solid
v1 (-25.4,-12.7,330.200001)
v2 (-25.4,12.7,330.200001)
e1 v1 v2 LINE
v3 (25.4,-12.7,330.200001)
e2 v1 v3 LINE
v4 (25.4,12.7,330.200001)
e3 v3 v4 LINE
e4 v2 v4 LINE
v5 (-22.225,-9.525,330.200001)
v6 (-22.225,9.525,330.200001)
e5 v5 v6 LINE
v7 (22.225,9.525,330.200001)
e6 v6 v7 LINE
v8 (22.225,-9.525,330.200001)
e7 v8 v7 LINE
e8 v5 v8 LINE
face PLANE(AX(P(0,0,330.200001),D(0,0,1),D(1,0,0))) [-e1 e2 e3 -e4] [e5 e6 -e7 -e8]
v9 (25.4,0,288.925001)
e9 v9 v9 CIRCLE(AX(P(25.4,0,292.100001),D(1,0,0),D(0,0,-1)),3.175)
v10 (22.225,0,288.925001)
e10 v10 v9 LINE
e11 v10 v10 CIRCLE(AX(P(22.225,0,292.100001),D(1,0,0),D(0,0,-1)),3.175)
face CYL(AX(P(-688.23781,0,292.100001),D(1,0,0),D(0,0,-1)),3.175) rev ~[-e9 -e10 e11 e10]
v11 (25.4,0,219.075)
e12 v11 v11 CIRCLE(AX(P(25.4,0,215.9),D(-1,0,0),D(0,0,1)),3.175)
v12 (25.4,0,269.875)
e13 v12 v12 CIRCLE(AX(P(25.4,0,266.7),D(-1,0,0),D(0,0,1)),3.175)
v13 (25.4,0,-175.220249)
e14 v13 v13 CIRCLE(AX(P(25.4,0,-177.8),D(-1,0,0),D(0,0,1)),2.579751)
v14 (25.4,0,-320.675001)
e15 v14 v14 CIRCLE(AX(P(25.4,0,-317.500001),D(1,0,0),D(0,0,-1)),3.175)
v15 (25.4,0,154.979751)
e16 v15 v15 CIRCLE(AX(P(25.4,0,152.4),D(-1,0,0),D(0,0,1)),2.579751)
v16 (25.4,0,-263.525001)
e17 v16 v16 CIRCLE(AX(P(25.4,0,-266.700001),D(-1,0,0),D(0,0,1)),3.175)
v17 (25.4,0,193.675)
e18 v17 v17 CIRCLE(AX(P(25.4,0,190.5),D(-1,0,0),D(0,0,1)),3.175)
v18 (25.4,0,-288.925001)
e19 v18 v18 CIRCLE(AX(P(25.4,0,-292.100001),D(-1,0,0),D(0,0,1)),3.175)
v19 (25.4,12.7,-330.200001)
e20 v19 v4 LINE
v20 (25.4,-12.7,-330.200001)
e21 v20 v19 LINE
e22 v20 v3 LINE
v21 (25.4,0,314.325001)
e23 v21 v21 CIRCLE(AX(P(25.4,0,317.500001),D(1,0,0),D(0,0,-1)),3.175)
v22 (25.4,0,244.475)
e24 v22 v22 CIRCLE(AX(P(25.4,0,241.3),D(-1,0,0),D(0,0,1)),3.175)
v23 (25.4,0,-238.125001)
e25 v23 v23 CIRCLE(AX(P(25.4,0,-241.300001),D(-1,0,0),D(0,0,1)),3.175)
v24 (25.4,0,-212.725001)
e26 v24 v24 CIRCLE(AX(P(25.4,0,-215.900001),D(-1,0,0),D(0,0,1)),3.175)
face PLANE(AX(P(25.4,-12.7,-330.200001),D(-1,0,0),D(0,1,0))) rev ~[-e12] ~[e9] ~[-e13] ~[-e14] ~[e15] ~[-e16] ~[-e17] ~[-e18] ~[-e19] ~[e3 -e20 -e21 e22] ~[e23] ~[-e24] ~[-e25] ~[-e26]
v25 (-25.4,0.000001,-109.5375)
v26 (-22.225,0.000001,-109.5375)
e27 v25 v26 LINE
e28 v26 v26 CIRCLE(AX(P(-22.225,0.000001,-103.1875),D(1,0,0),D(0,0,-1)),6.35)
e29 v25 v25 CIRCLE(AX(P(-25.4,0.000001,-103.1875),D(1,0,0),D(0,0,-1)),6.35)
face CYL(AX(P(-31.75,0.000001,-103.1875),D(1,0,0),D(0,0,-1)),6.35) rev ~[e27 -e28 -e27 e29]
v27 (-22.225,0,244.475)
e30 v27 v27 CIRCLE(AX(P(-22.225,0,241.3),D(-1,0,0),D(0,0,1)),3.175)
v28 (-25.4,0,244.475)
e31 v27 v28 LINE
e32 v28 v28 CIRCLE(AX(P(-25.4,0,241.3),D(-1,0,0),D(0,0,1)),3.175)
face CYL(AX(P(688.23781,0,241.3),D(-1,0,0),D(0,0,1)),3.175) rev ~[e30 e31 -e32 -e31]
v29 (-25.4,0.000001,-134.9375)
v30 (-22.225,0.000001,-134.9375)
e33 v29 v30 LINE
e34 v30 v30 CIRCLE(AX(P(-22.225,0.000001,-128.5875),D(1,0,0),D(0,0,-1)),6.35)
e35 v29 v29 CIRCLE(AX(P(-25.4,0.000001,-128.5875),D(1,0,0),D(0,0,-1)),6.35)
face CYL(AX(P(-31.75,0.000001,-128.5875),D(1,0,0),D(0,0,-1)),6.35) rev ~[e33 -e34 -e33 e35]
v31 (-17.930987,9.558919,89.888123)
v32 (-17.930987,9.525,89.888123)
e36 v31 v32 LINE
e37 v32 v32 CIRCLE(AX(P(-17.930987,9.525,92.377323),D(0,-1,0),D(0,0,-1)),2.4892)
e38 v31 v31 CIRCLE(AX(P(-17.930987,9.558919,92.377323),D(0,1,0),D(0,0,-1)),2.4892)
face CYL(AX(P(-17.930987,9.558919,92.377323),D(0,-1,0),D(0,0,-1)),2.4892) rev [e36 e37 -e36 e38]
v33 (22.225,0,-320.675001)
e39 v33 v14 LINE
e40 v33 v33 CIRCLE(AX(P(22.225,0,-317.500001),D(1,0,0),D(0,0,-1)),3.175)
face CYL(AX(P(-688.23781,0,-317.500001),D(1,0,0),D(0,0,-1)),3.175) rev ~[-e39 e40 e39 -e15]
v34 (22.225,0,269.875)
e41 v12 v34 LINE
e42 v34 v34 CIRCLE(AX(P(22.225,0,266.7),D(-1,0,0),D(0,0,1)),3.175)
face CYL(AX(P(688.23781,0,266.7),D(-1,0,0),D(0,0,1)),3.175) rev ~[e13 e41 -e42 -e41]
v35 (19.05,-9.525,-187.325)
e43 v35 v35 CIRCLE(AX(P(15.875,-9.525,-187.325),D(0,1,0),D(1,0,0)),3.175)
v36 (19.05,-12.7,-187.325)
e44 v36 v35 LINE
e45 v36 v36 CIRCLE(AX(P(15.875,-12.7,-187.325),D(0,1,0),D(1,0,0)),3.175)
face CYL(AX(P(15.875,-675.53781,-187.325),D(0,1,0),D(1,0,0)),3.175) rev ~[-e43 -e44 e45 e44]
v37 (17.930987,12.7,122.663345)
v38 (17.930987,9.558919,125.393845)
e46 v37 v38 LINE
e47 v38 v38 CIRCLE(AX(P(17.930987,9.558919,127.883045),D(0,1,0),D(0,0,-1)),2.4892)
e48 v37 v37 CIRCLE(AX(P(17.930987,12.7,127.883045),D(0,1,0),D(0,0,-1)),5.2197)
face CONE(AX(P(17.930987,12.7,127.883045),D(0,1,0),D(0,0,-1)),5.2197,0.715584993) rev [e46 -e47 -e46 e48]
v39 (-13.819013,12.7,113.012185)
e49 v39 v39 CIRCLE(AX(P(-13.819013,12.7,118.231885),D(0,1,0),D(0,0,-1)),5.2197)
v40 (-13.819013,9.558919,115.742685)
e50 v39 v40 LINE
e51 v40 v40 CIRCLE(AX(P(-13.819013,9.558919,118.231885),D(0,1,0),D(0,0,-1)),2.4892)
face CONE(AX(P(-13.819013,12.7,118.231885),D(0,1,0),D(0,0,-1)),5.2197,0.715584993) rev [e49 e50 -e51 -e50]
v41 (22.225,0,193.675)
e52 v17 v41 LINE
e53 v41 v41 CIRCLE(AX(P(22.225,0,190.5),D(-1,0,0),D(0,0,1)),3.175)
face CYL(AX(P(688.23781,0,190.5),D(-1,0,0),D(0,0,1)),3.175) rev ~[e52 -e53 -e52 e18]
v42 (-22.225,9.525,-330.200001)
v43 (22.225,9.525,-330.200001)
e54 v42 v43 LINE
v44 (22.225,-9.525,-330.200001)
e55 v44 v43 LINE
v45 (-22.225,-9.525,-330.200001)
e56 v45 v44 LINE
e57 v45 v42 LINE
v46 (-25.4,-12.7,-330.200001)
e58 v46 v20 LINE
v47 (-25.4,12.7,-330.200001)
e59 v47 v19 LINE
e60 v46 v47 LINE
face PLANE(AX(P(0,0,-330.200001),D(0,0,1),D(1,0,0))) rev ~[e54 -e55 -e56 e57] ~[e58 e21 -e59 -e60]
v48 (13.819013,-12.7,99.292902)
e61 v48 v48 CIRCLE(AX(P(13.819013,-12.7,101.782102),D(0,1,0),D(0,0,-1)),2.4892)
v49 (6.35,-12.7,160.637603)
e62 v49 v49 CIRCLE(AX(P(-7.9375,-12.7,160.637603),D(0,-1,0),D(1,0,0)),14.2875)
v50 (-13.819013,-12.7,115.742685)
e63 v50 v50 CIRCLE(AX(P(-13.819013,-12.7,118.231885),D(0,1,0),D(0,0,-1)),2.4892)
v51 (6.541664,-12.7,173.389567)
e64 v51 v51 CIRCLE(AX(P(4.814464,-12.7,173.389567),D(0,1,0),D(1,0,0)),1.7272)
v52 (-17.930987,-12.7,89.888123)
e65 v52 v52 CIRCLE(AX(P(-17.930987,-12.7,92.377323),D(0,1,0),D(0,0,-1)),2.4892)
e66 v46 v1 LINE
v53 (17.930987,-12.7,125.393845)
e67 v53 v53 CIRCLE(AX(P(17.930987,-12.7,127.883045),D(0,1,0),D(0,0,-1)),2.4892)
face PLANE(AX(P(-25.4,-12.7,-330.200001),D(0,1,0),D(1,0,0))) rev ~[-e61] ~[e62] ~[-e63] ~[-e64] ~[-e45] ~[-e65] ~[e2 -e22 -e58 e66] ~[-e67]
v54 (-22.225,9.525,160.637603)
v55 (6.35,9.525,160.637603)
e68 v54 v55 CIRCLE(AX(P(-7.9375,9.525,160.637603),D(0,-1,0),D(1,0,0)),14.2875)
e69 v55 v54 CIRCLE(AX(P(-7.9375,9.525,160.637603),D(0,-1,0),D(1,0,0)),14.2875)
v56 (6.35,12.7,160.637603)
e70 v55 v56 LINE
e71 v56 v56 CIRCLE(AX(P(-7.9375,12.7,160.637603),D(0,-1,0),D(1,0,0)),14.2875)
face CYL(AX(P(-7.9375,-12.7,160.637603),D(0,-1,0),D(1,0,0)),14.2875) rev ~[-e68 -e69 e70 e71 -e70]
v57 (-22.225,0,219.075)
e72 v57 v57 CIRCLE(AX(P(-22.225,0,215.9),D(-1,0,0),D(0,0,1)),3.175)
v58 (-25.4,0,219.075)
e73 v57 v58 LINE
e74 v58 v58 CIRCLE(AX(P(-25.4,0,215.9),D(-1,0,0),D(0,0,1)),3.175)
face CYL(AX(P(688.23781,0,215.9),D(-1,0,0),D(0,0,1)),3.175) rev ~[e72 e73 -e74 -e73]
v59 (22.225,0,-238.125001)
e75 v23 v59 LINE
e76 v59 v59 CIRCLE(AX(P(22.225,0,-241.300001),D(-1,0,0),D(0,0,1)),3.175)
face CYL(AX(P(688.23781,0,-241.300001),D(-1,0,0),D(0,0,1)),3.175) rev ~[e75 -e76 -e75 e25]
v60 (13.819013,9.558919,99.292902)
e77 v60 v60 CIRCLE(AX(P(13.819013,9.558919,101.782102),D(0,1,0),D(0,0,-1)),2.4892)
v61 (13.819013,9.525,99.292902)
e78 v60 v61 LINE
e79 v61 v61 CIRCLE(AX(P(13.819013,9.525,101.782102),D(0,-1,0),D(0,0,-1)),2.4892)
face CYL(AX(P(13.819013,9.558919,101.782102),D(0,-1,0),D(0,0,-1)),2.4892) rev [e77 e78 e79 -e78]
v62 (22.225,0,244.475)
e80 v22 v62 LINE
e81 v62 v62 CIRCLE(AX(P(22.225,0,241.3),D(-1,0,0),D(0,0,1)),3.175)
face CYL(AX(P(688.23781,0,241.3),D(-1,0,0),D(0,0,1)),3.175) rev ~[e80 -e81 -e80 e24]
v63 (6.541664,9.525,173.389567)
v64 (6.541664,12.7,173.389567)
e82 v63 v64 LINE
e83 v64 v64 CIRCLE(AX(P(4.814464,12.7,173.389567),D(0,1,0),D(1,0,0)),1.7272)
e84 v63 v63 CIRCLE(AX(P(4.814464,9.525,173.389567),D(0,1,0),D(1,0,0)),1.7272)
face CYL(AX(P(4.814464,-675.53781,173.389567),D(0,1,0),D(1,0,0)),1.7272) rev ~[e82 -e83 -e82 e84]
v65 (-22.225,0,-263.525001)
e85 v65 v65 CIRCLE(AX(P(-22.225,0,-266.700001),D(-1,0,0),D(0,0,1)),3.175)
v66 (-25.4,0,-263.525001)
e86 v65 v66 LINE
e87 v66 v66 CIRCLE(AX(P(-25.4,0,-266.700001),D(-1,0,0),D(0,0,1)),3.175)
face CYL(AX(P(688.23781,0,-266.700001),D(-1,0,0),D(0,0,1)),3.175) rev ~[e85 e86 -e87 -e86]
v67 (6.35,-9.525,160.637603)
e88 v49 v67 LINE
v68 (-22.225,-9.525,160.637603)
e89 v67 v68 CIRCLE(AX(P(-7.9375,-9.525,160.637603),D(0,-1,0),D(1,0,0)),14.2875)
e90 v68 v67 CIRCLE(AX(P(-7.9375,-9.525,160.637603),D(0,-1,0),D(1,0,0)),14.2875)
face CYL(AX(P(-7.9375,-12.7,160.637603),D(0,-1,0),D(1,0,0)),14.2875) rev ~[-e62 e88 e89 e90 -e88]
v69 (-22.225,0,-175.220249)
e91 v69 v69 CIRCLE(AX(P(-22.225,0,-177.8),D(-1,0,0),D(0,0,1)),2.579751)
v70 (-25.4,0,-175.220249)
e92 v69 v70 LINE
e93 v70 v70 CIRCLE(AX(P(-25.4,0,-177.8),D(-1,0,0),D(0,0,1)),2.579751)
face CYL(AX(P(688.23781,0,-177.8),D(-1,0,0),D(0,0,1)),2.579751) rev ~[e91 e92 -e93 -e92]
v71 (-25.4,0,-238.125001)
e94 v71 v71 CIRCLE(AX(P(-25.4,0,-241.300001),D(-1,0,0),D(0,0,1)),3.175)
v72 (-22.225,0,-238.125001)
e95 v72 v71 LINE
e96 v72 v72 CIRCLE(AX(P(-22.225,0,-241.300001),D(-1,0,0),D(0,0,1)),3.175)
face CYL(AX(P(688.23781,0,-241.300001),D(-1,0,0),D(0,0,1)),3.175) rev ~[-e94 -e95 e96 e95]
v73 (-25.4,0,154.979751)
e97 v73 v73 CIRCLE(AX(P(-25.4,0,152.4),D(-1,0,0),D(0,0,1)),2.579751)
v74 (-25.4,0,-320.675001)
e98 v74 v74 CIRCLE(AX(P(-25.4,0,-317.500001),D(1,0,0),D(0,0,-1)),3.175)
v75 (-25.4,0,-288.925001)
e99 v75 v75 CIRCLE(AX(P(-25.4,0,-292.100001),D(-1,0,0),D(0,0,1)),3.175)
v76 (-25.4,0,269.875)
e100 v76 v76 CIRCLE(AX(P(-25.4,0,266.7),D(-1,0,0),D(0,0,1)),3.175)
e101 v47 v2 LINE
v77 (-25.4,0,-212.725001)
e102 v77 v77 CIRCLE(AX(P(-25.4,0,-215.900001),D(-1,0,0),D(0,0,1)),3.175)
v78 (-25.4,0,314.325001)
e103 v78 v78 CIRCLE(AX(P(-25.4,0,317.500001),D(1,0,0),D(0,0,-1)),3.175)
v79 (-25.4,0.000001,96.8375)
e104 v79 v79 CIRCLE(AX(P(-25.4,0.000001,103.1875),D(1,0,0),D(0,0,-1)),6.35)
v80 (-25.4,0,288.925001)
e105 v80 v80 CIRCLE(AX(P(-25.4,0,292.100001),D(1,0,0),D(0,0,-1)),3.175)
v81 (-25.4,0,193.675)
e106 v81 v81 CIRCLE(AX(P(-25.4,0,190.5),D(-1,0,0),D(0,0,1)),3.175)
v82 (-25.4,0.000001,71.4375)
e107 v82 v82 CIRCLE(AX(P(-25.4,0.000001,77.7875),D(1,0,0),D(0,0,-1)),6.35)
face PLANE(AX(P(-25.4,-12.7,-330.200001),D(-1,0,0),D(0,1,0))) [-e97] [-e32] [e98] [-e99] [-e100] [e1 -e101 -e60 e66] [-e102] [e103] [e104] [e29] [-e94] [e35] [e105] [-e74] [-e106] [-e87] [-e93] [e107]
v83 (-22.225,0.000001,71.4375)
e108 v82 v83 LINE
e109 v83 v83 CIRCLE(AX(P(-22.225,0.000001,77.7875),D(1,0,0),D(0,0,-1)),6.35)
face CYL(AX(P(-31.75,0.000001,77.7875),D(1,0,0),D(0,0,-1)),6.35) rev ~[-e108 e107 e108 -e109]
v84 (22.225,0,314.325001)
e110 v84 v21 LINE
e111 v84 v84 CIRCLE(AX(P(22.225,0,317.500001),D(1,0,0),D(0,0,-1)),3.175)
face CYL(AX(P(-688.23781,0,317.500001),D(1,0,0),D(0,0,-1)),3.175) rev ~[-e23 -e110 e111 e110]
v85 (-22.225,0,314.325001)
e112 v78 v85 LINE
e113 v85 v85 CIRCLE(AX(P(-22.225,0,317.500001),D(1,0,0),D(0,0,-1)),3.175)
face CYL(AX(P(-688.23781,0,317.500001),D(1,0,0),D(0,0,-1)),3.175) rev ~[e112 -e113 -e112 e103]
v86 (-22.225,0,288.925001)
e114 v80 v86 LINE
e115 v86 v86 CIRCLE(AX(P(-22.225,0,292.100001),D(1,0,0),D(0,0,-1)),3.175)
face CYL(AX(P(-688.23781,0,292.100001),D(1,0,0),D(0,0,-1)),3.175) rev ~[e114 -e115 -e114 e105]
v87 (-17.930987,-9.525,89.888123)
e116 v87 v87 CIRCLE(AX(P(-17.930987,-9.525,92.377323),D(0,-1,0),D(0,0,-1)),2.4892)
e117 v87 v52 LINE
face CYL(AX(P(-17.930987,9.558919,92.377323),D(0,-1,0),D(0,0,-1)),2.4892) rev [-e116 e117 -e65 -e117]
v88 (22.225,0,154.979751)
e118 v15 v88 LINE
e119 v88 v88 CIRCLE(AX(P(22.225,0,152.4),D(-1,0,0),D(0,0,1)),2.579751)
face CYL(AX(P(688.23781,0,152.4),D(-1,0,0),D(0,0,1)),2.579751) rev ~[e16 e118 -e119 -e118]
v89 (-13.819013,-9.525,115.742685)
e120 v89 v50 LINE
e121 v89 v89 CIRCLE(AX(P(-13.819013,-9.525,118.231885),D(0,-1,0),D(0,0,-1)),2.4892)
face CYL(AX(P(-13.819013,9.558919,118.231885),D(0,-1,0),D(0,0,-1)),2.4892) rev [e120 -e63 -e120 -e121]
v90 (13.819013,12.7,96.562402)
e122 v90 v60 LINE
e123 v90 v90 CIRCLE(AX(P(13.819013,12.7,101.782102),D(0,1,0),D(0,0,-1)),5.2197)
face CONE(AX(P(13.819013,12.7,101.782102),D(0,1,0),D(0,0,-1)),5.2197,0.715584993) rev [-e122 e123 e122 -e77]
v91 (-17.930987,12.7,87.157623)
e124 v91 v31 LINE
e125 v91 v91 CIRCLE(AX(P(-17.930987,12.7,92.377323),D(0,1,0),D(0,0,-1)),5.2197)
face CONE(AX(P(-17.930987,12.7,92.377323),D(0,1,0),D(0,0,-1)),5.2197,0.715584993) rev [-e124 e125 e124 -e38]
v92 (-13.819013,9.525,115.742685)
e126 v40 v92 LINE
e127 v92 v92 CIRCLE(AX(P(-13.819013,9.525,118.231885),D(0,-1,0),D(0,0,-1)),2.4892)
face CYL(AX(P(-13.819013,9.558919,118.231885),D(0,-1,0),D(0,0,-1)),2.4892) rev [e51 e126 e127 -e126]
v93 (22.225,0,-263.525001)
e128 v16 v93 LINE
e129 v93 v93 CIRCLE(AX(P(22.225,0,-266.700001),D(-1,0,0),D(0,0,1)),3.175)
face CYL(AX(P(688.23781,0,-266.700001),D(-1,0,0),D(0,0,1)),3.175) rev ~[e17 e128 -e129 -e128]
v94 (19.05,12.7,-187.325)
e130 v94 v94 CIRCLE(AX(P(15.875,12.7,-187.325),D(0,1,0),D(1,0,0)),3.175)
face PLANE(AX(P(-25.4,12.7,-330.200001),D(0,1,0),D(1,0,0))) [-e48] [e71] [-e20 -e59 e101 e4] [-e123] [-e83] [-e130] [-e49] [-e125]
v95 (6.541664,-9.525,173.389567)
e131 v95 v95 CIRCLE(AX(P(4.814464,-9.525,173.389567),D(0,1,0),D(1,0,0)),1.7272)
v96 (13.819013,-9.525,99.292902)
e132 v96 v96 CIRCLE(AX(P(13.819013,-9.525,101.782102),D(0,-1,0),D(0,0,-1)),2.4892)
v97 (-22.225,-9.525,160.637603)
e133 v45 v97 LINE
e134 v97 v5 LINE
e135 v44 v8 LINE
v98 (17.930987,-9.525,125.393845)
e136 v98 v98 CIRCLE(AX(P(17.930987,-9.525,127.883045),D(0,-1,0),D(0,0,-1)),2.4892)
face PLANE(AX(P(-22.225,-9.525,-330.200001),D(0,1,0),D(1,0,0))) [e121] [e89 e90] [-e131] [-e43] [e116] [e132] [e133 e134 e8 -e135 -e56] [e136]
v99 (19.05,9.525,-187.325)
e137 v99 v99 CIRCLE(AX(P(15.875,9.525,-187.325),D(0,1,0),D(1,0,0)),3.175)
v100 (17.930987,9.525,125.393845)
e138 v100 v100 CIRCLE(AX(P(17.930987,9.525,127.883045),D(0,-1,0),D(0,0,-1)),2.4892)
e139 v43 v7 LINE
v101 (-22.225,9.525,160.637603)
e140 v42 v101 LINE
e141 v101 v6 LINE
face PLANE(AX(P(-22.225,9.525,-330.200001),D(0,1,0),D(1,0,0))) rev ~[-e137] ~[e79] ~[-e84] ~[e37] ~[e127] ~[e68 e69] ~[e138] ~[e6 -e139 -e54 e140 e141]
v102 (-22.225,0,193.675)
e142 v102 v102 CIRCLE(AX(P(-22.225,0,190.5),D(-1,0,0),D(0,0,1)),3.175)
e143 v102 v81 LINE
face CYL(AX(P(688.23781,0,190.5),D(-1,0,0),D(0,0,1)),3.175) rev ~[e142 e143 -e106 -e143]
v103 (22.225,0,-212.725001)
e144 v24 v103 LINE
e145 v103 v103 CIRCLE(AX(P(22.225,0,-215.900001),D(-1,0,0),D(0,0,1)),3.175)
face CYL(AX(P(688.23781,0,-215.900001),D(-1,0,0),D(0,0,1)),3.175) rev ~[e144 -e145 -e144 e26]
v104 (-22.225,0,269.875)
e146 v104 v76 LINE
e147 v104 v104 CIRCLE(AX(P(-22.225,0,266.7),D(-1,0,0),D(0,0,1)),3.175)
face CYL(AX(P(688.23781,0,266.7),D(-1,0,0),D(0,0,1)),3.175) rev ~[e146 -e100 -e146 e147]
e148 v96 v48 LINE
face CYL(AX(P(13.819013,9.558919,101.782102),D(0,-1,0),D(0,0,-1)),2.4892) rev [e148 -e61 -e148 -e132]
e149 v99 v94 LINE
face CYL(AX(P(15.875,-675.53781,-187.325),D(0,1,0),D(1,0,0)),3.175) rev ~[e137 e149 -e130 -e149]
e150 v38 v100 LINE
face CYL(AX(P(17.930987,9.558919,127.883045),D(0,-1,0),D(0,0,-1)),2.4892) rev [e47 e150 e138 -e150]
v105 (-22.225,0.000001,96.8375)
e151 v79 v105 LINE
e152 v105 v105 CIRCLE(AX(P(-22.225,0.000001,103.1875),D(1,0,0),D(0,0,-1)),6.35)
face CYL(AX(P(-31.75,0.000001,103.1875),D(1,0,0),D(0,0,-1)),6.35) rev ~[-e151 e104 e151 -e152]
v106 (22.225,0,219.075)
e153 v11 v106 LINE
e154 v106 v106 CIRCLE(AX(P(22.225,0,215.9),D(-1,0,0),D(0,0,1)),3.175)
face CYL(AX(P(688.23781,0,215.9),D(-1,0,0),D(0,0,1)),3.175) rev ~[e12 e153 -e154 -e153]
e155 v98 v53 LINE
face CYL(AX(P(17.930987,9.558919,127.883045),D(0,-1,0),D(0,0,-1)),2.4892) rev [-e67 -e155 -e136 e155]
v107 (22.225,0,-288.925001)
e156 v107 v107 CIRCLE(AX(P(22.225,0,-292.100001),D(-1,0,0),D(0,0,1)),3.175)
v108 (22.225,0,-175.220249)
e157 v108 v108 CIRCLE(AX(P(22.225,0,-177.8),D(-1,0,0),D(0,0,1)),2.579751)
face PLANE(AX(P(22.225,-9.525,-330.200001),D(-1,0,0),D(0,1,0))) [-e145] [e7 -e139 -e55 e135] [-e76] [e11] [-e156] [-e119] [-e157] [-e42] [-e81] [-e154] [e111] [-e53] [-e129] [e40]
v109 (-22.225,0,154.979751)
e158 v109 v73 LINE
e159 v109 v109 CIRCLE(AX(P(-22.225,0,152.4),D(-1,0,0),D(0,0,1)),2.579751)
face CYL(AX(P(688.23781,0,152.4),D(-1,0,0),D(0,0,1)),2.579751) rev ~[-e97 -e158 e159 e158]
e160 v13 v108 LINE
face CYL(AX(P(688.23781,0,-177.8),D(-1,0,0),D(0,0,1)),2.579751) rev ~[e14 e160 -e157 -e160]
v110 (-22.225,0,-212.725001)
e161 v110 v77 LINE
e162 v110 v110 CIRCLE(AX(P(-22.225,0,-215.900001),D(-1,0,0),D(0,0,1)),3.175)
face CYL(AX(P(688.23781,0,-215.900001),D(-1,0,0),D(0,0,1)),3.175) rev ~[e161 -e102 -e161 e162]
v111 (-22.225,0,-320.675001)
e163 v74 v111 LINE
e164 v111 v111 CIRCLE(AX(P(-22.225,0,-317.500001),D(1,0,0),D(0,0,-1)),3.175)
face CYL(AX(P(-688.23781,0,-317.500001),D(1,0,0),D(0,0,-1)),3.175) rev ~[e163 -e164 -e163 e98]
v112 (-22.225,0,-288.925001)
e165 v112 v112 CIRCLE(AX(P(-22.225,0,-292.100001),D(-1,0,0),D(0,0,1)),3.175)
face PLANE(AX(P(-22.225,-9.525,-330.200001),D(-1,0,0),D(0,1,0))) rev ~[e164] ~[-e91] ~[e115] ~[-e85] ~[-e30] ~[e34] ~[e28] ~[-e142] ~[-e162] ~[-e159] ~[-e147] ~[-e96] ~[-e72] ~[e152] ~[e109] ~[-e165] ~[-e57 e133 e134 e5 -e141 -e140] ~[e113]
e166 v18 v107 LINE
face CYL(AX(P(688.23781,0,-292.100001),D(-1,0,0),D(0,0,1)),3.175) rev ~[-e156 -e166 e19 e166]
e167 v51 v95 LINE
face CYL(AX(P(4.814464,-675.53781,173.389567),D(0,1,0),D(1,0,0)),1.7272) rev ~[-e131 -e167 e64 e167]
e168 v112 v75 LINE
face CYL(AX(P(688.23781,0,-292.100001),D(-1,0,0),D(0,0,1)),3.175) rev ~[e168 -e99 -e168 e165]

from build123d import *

# Parameters (mm, degrees)
BOSS_EXTRUDE1_DEPTH              = 330.200001
BOSS_EXTRUDE1_DEPTH_BACK         = 330.200001
SKETCH3_W                        = 50.8
SKETCH3_H                        = 25.4
SKETCH3_W_2                      = 44.45
SKETCH3_H_2                      = 19.05
F_1_4_0_25_DIAMETER_HOLE3_D      = 6.35
F_1_4_0_25_DIAMETER_HOLE4_D      = 6.35
F_1_4_0_25_DIAMETER_HOLE5_D      = 6.35
F_1_4_0_25_DIAMETER_HOLE6_D      = 6.35
F_1_4_0_25_DIAMETER_HOLE7_D      = 6.35
F_1_4_0_25_DIAMETER_HOLE8_D      = 6.35
F_13_64_0_20313_DIAMETER_HOLE1_D = 5.159502
F_1_2_0_5_DIAMETER_HOLE1_D       = 12.7
F_1_2_0_5_DIAMETER_HOLE1_DEPTH   = 6.35
F_1_2_0_5_DIAMETER_HOLE1_TIP     = 3.815464931
F_10_CLEARANCE_HOLE4_AT_2_COUNT  = 2
F_10_CLEARANCE_HOLE4_AT_2_PITCH  = 26.422860684
F_10_CLEARANCE_HOLE4_AT_3_COUNT  = 2
F_10_CLEARANCE_HOLE4_AT_3_PITCH  = 32.162957462
F_10_CLEARANCE_HOLE4_AT_4_COUNT  = 2
F_10_CLEARANCE_HOLE4_AT_4_PITCH  = 33.11362798
SKETCH47_R                       = 14.2875
CUT_EXTRUDE1_DEPTH               = 333.148100492
TAP_DRILL_FOR_8_32_TAP1_D        = 3.4544
F_1_4_0_25_DIAMETER_HOLE9_D      = 6.35


with BuildPart() as part:
    # Sketch3 → Boss-Extrude1 (new, two sides: drawn at the far end of the back side and taken through both)
    with BuildSketch(Plane.XY.offset(-BOSS_EXTRUDE1_DEPTH_BACK)):
        Rectangle(SKETCH3_W, SKETCH3_H)
        Rectangle(SKETCH3_W_2, SKETCH3_H_2, mode=Mode.SUBTRACT)
    extrude(amount=BOSS_EXTRUDE1_DEPTH + BOSS_EXTRUDE1_DEPTH_BACK)

    # 1/4 (0.25) Diameter Hole3 (through all)
    with Locations(Plane.ZY.offset(25.4)):
        with Locations((-317.500000508, 0)):
            Hole(F_1_4_0_25_DIAMETER_HOLE3_D / 2)

    # 1/4 (0.25) Diameter Hole4 (through all)
    with Locations(Plane.ZY.offset(25.4)):
        with Locations((292.100000508, 0), (317.500000508, 0)):
            Hole(F_1_4_0_25_DIAMETER_HOLE4_D / 2)

    # 1/4 (0.25) Diameter Hole5 (through all)
    with Locations(Plane(origin=(25.4, 0, 0), x_dir=(0, 0, -1), z_dir=(1, 0, 0))):
        with Locations((292.100000508, 0), (266.700000508, 0)):
            Hole(F_1_4_0_25_DIAMETER_HOLE5_D / 2)

    # 1/4 (0.25) Diameter Hole6 (through all)
    with Locations(Plane(origin=(25.4, 0, 0), x_dir=(0, 0, -1), z_dir=(1, 0, 0))):
        with Locations((215.900000508, 0), (241.300000508, 0)):
            Hole(F_1_4_0_25_DIAMETER_HOLE6_D / 2)

    # 1/4 (0.25) Diameter Hole7 (through all)
    with Locations(Plane(origin=(25.4, 0, 0), x_dir=(0, 0, -1), z_dir=(1, 0, 0))):
        with Locations((-190.5, 0), (-215.9, 0)):
            Hole(F_1_4_0_25_DIAMETER_HOLE7_D / 2)

    # 1/4 (0.25) Diameter Hole8 (through all)
    with Locations(Plane(origin=(25.4, 0, 0), x_dir=(0, 0, -1), z_dir=(1, 0, 0))):
        with Locations((-266.7, 0), (-241.3, 0)):
            Hole(F_1_4_0_25_DIAMETER_HOLE8_D / 2)

    # 13/64 (0.20313) Diameter Hole1 (through all)
    with Locations(Plane(origin=(25.4, 0, 0), x_dir=(0, 0, -1), z_dir=(1, 0, 0))):
        with Locations((-152.4, 0), (177.8, 0)):
            Hole(F_13_64_0_20313_DIAMETER_HOLE1_D / 2)

    # 1/2 (0.5) Diameter Hole1
    with Locations(Plane.ZY.offset(25.4)):
        with Locations((-128.5875, 1.016e-06), (-103.1875, 1.016e-06), (77.7875, 1.016e-06), (103.1875, 1.016e-06)):
            Hole(F_1_2_0_5_DIAMETER_HOLE1_D / 2, depth=F_1_2_0_5_DIAMETER_HOLE1_DEPTH)
            with Locations((0, 0, -(F_1_2_0_5_DIAMETER_HOLE1_DEPTH + F_1_2_0_5_DIAMETER_HOLE1_TIP / 2))):  # 118° drill point
                Cone(0, F_1_2_0_5_DIAMETER_HOLE1_D / 2, F_1_2_0_5_DIAMETER_HOLE1_TIP, mode=Mode.SUBTRACT)

    # Sketch46 → #10 Clearance Hole4 (revolve, cut)
    with BuildSketch(Plane(origin=(13.81901292, -12.7, 101.782101571), x_dir=(0, 0, -1), z_dir=(1, 0, 0))):
        Polygon((0, 0), (0, 25.4), (5.2197, 25.4), (2.4892, 22.258919064), (2.4892, 0), align=None)
    f_10_clearance_hole4 = revolve(axis=Axis((13.81901292, -19.05, 101.782101571), (0, 1, 0)), mode=Mode.SUBTRACT)

    # #10 Clearance Hole4 at 2: #10 Clearance Hole4 ×2
    with Locations(*[Vector(0.15562183859411732, 0, 0.9878167053419306) * (i * F_10_CLEARANCE_HOLE4_AT_2_PITCH) for i in range(1, F_10_CLEARANCE_HOLE4_AT_2_COUNT)]):
        add(f_10_clearance_hole4, mode=Mode.SUBTRACT)

    # #10 Clearance Hole4 at 3: #10 Clearance Hole4 ×2
    with Locations(*[Vector(-0.8593123276123449, 0, 0.511451193774591) * (i * F_10_CLEARANCE_HOLE4_AT_3_PITCH) for i in range(1, F_10_CLEARANCE_HOLE4_AT_3_COUNT)]):
        add(f_10_clearance_hole4, mode=Mode.SUBTRACT)

    # #10 Clearance Hole4 at 4: #10 Clearance Hole4 ×2
    with Locations(*[Vector(-0.9588197348681927, 0, -0.284015344703924) * (i * F_10_CLEARANCE_HOLE4_AT_4_PITCH) for i in range(1, F_10_CLEARANCE_HOLE4_AT_4_COUNT)]):
        add(f_10_clearance_hole4, mode=Mode.SUBTRACT)

    # Sketch47 → Cut-Extrude1 (cut, through all)
    with BuildSketch(Plane.XZ.offset(12.7)):
        with Locations((-7.9375, 160.637603217)):
            Circle(SKETCH47_R)
    extrude(amount=-CUT_EXTRUDE1_DEPTH, mode=Mode.SUBTRACT)

    # Tap Drill for #8-32 Tap1 (through all)
    with Locations(Plane(origin=(0, -12.7, 0), x_dir=(-1, 0, 0), z_dir=(0, -1, 0))):
        with Locations((-4.814463692, -173.389566909)):
            Hole(TAP_DRILL_FOR_8_32_TAP1_D / 2)

    # 1/4 (0.25) Diameter Hole9 (through all)
    with Locations(Plane(origin=(0, -12.7, 0), x_dir=(-1, 0, 0), z_dir=(0, -1, 0))):
        with Locations((-15.875, 187.325)):
            Hole(F_1_4_0_25_DIAMETER_HOLE9_D / 2)


solid = part.part
